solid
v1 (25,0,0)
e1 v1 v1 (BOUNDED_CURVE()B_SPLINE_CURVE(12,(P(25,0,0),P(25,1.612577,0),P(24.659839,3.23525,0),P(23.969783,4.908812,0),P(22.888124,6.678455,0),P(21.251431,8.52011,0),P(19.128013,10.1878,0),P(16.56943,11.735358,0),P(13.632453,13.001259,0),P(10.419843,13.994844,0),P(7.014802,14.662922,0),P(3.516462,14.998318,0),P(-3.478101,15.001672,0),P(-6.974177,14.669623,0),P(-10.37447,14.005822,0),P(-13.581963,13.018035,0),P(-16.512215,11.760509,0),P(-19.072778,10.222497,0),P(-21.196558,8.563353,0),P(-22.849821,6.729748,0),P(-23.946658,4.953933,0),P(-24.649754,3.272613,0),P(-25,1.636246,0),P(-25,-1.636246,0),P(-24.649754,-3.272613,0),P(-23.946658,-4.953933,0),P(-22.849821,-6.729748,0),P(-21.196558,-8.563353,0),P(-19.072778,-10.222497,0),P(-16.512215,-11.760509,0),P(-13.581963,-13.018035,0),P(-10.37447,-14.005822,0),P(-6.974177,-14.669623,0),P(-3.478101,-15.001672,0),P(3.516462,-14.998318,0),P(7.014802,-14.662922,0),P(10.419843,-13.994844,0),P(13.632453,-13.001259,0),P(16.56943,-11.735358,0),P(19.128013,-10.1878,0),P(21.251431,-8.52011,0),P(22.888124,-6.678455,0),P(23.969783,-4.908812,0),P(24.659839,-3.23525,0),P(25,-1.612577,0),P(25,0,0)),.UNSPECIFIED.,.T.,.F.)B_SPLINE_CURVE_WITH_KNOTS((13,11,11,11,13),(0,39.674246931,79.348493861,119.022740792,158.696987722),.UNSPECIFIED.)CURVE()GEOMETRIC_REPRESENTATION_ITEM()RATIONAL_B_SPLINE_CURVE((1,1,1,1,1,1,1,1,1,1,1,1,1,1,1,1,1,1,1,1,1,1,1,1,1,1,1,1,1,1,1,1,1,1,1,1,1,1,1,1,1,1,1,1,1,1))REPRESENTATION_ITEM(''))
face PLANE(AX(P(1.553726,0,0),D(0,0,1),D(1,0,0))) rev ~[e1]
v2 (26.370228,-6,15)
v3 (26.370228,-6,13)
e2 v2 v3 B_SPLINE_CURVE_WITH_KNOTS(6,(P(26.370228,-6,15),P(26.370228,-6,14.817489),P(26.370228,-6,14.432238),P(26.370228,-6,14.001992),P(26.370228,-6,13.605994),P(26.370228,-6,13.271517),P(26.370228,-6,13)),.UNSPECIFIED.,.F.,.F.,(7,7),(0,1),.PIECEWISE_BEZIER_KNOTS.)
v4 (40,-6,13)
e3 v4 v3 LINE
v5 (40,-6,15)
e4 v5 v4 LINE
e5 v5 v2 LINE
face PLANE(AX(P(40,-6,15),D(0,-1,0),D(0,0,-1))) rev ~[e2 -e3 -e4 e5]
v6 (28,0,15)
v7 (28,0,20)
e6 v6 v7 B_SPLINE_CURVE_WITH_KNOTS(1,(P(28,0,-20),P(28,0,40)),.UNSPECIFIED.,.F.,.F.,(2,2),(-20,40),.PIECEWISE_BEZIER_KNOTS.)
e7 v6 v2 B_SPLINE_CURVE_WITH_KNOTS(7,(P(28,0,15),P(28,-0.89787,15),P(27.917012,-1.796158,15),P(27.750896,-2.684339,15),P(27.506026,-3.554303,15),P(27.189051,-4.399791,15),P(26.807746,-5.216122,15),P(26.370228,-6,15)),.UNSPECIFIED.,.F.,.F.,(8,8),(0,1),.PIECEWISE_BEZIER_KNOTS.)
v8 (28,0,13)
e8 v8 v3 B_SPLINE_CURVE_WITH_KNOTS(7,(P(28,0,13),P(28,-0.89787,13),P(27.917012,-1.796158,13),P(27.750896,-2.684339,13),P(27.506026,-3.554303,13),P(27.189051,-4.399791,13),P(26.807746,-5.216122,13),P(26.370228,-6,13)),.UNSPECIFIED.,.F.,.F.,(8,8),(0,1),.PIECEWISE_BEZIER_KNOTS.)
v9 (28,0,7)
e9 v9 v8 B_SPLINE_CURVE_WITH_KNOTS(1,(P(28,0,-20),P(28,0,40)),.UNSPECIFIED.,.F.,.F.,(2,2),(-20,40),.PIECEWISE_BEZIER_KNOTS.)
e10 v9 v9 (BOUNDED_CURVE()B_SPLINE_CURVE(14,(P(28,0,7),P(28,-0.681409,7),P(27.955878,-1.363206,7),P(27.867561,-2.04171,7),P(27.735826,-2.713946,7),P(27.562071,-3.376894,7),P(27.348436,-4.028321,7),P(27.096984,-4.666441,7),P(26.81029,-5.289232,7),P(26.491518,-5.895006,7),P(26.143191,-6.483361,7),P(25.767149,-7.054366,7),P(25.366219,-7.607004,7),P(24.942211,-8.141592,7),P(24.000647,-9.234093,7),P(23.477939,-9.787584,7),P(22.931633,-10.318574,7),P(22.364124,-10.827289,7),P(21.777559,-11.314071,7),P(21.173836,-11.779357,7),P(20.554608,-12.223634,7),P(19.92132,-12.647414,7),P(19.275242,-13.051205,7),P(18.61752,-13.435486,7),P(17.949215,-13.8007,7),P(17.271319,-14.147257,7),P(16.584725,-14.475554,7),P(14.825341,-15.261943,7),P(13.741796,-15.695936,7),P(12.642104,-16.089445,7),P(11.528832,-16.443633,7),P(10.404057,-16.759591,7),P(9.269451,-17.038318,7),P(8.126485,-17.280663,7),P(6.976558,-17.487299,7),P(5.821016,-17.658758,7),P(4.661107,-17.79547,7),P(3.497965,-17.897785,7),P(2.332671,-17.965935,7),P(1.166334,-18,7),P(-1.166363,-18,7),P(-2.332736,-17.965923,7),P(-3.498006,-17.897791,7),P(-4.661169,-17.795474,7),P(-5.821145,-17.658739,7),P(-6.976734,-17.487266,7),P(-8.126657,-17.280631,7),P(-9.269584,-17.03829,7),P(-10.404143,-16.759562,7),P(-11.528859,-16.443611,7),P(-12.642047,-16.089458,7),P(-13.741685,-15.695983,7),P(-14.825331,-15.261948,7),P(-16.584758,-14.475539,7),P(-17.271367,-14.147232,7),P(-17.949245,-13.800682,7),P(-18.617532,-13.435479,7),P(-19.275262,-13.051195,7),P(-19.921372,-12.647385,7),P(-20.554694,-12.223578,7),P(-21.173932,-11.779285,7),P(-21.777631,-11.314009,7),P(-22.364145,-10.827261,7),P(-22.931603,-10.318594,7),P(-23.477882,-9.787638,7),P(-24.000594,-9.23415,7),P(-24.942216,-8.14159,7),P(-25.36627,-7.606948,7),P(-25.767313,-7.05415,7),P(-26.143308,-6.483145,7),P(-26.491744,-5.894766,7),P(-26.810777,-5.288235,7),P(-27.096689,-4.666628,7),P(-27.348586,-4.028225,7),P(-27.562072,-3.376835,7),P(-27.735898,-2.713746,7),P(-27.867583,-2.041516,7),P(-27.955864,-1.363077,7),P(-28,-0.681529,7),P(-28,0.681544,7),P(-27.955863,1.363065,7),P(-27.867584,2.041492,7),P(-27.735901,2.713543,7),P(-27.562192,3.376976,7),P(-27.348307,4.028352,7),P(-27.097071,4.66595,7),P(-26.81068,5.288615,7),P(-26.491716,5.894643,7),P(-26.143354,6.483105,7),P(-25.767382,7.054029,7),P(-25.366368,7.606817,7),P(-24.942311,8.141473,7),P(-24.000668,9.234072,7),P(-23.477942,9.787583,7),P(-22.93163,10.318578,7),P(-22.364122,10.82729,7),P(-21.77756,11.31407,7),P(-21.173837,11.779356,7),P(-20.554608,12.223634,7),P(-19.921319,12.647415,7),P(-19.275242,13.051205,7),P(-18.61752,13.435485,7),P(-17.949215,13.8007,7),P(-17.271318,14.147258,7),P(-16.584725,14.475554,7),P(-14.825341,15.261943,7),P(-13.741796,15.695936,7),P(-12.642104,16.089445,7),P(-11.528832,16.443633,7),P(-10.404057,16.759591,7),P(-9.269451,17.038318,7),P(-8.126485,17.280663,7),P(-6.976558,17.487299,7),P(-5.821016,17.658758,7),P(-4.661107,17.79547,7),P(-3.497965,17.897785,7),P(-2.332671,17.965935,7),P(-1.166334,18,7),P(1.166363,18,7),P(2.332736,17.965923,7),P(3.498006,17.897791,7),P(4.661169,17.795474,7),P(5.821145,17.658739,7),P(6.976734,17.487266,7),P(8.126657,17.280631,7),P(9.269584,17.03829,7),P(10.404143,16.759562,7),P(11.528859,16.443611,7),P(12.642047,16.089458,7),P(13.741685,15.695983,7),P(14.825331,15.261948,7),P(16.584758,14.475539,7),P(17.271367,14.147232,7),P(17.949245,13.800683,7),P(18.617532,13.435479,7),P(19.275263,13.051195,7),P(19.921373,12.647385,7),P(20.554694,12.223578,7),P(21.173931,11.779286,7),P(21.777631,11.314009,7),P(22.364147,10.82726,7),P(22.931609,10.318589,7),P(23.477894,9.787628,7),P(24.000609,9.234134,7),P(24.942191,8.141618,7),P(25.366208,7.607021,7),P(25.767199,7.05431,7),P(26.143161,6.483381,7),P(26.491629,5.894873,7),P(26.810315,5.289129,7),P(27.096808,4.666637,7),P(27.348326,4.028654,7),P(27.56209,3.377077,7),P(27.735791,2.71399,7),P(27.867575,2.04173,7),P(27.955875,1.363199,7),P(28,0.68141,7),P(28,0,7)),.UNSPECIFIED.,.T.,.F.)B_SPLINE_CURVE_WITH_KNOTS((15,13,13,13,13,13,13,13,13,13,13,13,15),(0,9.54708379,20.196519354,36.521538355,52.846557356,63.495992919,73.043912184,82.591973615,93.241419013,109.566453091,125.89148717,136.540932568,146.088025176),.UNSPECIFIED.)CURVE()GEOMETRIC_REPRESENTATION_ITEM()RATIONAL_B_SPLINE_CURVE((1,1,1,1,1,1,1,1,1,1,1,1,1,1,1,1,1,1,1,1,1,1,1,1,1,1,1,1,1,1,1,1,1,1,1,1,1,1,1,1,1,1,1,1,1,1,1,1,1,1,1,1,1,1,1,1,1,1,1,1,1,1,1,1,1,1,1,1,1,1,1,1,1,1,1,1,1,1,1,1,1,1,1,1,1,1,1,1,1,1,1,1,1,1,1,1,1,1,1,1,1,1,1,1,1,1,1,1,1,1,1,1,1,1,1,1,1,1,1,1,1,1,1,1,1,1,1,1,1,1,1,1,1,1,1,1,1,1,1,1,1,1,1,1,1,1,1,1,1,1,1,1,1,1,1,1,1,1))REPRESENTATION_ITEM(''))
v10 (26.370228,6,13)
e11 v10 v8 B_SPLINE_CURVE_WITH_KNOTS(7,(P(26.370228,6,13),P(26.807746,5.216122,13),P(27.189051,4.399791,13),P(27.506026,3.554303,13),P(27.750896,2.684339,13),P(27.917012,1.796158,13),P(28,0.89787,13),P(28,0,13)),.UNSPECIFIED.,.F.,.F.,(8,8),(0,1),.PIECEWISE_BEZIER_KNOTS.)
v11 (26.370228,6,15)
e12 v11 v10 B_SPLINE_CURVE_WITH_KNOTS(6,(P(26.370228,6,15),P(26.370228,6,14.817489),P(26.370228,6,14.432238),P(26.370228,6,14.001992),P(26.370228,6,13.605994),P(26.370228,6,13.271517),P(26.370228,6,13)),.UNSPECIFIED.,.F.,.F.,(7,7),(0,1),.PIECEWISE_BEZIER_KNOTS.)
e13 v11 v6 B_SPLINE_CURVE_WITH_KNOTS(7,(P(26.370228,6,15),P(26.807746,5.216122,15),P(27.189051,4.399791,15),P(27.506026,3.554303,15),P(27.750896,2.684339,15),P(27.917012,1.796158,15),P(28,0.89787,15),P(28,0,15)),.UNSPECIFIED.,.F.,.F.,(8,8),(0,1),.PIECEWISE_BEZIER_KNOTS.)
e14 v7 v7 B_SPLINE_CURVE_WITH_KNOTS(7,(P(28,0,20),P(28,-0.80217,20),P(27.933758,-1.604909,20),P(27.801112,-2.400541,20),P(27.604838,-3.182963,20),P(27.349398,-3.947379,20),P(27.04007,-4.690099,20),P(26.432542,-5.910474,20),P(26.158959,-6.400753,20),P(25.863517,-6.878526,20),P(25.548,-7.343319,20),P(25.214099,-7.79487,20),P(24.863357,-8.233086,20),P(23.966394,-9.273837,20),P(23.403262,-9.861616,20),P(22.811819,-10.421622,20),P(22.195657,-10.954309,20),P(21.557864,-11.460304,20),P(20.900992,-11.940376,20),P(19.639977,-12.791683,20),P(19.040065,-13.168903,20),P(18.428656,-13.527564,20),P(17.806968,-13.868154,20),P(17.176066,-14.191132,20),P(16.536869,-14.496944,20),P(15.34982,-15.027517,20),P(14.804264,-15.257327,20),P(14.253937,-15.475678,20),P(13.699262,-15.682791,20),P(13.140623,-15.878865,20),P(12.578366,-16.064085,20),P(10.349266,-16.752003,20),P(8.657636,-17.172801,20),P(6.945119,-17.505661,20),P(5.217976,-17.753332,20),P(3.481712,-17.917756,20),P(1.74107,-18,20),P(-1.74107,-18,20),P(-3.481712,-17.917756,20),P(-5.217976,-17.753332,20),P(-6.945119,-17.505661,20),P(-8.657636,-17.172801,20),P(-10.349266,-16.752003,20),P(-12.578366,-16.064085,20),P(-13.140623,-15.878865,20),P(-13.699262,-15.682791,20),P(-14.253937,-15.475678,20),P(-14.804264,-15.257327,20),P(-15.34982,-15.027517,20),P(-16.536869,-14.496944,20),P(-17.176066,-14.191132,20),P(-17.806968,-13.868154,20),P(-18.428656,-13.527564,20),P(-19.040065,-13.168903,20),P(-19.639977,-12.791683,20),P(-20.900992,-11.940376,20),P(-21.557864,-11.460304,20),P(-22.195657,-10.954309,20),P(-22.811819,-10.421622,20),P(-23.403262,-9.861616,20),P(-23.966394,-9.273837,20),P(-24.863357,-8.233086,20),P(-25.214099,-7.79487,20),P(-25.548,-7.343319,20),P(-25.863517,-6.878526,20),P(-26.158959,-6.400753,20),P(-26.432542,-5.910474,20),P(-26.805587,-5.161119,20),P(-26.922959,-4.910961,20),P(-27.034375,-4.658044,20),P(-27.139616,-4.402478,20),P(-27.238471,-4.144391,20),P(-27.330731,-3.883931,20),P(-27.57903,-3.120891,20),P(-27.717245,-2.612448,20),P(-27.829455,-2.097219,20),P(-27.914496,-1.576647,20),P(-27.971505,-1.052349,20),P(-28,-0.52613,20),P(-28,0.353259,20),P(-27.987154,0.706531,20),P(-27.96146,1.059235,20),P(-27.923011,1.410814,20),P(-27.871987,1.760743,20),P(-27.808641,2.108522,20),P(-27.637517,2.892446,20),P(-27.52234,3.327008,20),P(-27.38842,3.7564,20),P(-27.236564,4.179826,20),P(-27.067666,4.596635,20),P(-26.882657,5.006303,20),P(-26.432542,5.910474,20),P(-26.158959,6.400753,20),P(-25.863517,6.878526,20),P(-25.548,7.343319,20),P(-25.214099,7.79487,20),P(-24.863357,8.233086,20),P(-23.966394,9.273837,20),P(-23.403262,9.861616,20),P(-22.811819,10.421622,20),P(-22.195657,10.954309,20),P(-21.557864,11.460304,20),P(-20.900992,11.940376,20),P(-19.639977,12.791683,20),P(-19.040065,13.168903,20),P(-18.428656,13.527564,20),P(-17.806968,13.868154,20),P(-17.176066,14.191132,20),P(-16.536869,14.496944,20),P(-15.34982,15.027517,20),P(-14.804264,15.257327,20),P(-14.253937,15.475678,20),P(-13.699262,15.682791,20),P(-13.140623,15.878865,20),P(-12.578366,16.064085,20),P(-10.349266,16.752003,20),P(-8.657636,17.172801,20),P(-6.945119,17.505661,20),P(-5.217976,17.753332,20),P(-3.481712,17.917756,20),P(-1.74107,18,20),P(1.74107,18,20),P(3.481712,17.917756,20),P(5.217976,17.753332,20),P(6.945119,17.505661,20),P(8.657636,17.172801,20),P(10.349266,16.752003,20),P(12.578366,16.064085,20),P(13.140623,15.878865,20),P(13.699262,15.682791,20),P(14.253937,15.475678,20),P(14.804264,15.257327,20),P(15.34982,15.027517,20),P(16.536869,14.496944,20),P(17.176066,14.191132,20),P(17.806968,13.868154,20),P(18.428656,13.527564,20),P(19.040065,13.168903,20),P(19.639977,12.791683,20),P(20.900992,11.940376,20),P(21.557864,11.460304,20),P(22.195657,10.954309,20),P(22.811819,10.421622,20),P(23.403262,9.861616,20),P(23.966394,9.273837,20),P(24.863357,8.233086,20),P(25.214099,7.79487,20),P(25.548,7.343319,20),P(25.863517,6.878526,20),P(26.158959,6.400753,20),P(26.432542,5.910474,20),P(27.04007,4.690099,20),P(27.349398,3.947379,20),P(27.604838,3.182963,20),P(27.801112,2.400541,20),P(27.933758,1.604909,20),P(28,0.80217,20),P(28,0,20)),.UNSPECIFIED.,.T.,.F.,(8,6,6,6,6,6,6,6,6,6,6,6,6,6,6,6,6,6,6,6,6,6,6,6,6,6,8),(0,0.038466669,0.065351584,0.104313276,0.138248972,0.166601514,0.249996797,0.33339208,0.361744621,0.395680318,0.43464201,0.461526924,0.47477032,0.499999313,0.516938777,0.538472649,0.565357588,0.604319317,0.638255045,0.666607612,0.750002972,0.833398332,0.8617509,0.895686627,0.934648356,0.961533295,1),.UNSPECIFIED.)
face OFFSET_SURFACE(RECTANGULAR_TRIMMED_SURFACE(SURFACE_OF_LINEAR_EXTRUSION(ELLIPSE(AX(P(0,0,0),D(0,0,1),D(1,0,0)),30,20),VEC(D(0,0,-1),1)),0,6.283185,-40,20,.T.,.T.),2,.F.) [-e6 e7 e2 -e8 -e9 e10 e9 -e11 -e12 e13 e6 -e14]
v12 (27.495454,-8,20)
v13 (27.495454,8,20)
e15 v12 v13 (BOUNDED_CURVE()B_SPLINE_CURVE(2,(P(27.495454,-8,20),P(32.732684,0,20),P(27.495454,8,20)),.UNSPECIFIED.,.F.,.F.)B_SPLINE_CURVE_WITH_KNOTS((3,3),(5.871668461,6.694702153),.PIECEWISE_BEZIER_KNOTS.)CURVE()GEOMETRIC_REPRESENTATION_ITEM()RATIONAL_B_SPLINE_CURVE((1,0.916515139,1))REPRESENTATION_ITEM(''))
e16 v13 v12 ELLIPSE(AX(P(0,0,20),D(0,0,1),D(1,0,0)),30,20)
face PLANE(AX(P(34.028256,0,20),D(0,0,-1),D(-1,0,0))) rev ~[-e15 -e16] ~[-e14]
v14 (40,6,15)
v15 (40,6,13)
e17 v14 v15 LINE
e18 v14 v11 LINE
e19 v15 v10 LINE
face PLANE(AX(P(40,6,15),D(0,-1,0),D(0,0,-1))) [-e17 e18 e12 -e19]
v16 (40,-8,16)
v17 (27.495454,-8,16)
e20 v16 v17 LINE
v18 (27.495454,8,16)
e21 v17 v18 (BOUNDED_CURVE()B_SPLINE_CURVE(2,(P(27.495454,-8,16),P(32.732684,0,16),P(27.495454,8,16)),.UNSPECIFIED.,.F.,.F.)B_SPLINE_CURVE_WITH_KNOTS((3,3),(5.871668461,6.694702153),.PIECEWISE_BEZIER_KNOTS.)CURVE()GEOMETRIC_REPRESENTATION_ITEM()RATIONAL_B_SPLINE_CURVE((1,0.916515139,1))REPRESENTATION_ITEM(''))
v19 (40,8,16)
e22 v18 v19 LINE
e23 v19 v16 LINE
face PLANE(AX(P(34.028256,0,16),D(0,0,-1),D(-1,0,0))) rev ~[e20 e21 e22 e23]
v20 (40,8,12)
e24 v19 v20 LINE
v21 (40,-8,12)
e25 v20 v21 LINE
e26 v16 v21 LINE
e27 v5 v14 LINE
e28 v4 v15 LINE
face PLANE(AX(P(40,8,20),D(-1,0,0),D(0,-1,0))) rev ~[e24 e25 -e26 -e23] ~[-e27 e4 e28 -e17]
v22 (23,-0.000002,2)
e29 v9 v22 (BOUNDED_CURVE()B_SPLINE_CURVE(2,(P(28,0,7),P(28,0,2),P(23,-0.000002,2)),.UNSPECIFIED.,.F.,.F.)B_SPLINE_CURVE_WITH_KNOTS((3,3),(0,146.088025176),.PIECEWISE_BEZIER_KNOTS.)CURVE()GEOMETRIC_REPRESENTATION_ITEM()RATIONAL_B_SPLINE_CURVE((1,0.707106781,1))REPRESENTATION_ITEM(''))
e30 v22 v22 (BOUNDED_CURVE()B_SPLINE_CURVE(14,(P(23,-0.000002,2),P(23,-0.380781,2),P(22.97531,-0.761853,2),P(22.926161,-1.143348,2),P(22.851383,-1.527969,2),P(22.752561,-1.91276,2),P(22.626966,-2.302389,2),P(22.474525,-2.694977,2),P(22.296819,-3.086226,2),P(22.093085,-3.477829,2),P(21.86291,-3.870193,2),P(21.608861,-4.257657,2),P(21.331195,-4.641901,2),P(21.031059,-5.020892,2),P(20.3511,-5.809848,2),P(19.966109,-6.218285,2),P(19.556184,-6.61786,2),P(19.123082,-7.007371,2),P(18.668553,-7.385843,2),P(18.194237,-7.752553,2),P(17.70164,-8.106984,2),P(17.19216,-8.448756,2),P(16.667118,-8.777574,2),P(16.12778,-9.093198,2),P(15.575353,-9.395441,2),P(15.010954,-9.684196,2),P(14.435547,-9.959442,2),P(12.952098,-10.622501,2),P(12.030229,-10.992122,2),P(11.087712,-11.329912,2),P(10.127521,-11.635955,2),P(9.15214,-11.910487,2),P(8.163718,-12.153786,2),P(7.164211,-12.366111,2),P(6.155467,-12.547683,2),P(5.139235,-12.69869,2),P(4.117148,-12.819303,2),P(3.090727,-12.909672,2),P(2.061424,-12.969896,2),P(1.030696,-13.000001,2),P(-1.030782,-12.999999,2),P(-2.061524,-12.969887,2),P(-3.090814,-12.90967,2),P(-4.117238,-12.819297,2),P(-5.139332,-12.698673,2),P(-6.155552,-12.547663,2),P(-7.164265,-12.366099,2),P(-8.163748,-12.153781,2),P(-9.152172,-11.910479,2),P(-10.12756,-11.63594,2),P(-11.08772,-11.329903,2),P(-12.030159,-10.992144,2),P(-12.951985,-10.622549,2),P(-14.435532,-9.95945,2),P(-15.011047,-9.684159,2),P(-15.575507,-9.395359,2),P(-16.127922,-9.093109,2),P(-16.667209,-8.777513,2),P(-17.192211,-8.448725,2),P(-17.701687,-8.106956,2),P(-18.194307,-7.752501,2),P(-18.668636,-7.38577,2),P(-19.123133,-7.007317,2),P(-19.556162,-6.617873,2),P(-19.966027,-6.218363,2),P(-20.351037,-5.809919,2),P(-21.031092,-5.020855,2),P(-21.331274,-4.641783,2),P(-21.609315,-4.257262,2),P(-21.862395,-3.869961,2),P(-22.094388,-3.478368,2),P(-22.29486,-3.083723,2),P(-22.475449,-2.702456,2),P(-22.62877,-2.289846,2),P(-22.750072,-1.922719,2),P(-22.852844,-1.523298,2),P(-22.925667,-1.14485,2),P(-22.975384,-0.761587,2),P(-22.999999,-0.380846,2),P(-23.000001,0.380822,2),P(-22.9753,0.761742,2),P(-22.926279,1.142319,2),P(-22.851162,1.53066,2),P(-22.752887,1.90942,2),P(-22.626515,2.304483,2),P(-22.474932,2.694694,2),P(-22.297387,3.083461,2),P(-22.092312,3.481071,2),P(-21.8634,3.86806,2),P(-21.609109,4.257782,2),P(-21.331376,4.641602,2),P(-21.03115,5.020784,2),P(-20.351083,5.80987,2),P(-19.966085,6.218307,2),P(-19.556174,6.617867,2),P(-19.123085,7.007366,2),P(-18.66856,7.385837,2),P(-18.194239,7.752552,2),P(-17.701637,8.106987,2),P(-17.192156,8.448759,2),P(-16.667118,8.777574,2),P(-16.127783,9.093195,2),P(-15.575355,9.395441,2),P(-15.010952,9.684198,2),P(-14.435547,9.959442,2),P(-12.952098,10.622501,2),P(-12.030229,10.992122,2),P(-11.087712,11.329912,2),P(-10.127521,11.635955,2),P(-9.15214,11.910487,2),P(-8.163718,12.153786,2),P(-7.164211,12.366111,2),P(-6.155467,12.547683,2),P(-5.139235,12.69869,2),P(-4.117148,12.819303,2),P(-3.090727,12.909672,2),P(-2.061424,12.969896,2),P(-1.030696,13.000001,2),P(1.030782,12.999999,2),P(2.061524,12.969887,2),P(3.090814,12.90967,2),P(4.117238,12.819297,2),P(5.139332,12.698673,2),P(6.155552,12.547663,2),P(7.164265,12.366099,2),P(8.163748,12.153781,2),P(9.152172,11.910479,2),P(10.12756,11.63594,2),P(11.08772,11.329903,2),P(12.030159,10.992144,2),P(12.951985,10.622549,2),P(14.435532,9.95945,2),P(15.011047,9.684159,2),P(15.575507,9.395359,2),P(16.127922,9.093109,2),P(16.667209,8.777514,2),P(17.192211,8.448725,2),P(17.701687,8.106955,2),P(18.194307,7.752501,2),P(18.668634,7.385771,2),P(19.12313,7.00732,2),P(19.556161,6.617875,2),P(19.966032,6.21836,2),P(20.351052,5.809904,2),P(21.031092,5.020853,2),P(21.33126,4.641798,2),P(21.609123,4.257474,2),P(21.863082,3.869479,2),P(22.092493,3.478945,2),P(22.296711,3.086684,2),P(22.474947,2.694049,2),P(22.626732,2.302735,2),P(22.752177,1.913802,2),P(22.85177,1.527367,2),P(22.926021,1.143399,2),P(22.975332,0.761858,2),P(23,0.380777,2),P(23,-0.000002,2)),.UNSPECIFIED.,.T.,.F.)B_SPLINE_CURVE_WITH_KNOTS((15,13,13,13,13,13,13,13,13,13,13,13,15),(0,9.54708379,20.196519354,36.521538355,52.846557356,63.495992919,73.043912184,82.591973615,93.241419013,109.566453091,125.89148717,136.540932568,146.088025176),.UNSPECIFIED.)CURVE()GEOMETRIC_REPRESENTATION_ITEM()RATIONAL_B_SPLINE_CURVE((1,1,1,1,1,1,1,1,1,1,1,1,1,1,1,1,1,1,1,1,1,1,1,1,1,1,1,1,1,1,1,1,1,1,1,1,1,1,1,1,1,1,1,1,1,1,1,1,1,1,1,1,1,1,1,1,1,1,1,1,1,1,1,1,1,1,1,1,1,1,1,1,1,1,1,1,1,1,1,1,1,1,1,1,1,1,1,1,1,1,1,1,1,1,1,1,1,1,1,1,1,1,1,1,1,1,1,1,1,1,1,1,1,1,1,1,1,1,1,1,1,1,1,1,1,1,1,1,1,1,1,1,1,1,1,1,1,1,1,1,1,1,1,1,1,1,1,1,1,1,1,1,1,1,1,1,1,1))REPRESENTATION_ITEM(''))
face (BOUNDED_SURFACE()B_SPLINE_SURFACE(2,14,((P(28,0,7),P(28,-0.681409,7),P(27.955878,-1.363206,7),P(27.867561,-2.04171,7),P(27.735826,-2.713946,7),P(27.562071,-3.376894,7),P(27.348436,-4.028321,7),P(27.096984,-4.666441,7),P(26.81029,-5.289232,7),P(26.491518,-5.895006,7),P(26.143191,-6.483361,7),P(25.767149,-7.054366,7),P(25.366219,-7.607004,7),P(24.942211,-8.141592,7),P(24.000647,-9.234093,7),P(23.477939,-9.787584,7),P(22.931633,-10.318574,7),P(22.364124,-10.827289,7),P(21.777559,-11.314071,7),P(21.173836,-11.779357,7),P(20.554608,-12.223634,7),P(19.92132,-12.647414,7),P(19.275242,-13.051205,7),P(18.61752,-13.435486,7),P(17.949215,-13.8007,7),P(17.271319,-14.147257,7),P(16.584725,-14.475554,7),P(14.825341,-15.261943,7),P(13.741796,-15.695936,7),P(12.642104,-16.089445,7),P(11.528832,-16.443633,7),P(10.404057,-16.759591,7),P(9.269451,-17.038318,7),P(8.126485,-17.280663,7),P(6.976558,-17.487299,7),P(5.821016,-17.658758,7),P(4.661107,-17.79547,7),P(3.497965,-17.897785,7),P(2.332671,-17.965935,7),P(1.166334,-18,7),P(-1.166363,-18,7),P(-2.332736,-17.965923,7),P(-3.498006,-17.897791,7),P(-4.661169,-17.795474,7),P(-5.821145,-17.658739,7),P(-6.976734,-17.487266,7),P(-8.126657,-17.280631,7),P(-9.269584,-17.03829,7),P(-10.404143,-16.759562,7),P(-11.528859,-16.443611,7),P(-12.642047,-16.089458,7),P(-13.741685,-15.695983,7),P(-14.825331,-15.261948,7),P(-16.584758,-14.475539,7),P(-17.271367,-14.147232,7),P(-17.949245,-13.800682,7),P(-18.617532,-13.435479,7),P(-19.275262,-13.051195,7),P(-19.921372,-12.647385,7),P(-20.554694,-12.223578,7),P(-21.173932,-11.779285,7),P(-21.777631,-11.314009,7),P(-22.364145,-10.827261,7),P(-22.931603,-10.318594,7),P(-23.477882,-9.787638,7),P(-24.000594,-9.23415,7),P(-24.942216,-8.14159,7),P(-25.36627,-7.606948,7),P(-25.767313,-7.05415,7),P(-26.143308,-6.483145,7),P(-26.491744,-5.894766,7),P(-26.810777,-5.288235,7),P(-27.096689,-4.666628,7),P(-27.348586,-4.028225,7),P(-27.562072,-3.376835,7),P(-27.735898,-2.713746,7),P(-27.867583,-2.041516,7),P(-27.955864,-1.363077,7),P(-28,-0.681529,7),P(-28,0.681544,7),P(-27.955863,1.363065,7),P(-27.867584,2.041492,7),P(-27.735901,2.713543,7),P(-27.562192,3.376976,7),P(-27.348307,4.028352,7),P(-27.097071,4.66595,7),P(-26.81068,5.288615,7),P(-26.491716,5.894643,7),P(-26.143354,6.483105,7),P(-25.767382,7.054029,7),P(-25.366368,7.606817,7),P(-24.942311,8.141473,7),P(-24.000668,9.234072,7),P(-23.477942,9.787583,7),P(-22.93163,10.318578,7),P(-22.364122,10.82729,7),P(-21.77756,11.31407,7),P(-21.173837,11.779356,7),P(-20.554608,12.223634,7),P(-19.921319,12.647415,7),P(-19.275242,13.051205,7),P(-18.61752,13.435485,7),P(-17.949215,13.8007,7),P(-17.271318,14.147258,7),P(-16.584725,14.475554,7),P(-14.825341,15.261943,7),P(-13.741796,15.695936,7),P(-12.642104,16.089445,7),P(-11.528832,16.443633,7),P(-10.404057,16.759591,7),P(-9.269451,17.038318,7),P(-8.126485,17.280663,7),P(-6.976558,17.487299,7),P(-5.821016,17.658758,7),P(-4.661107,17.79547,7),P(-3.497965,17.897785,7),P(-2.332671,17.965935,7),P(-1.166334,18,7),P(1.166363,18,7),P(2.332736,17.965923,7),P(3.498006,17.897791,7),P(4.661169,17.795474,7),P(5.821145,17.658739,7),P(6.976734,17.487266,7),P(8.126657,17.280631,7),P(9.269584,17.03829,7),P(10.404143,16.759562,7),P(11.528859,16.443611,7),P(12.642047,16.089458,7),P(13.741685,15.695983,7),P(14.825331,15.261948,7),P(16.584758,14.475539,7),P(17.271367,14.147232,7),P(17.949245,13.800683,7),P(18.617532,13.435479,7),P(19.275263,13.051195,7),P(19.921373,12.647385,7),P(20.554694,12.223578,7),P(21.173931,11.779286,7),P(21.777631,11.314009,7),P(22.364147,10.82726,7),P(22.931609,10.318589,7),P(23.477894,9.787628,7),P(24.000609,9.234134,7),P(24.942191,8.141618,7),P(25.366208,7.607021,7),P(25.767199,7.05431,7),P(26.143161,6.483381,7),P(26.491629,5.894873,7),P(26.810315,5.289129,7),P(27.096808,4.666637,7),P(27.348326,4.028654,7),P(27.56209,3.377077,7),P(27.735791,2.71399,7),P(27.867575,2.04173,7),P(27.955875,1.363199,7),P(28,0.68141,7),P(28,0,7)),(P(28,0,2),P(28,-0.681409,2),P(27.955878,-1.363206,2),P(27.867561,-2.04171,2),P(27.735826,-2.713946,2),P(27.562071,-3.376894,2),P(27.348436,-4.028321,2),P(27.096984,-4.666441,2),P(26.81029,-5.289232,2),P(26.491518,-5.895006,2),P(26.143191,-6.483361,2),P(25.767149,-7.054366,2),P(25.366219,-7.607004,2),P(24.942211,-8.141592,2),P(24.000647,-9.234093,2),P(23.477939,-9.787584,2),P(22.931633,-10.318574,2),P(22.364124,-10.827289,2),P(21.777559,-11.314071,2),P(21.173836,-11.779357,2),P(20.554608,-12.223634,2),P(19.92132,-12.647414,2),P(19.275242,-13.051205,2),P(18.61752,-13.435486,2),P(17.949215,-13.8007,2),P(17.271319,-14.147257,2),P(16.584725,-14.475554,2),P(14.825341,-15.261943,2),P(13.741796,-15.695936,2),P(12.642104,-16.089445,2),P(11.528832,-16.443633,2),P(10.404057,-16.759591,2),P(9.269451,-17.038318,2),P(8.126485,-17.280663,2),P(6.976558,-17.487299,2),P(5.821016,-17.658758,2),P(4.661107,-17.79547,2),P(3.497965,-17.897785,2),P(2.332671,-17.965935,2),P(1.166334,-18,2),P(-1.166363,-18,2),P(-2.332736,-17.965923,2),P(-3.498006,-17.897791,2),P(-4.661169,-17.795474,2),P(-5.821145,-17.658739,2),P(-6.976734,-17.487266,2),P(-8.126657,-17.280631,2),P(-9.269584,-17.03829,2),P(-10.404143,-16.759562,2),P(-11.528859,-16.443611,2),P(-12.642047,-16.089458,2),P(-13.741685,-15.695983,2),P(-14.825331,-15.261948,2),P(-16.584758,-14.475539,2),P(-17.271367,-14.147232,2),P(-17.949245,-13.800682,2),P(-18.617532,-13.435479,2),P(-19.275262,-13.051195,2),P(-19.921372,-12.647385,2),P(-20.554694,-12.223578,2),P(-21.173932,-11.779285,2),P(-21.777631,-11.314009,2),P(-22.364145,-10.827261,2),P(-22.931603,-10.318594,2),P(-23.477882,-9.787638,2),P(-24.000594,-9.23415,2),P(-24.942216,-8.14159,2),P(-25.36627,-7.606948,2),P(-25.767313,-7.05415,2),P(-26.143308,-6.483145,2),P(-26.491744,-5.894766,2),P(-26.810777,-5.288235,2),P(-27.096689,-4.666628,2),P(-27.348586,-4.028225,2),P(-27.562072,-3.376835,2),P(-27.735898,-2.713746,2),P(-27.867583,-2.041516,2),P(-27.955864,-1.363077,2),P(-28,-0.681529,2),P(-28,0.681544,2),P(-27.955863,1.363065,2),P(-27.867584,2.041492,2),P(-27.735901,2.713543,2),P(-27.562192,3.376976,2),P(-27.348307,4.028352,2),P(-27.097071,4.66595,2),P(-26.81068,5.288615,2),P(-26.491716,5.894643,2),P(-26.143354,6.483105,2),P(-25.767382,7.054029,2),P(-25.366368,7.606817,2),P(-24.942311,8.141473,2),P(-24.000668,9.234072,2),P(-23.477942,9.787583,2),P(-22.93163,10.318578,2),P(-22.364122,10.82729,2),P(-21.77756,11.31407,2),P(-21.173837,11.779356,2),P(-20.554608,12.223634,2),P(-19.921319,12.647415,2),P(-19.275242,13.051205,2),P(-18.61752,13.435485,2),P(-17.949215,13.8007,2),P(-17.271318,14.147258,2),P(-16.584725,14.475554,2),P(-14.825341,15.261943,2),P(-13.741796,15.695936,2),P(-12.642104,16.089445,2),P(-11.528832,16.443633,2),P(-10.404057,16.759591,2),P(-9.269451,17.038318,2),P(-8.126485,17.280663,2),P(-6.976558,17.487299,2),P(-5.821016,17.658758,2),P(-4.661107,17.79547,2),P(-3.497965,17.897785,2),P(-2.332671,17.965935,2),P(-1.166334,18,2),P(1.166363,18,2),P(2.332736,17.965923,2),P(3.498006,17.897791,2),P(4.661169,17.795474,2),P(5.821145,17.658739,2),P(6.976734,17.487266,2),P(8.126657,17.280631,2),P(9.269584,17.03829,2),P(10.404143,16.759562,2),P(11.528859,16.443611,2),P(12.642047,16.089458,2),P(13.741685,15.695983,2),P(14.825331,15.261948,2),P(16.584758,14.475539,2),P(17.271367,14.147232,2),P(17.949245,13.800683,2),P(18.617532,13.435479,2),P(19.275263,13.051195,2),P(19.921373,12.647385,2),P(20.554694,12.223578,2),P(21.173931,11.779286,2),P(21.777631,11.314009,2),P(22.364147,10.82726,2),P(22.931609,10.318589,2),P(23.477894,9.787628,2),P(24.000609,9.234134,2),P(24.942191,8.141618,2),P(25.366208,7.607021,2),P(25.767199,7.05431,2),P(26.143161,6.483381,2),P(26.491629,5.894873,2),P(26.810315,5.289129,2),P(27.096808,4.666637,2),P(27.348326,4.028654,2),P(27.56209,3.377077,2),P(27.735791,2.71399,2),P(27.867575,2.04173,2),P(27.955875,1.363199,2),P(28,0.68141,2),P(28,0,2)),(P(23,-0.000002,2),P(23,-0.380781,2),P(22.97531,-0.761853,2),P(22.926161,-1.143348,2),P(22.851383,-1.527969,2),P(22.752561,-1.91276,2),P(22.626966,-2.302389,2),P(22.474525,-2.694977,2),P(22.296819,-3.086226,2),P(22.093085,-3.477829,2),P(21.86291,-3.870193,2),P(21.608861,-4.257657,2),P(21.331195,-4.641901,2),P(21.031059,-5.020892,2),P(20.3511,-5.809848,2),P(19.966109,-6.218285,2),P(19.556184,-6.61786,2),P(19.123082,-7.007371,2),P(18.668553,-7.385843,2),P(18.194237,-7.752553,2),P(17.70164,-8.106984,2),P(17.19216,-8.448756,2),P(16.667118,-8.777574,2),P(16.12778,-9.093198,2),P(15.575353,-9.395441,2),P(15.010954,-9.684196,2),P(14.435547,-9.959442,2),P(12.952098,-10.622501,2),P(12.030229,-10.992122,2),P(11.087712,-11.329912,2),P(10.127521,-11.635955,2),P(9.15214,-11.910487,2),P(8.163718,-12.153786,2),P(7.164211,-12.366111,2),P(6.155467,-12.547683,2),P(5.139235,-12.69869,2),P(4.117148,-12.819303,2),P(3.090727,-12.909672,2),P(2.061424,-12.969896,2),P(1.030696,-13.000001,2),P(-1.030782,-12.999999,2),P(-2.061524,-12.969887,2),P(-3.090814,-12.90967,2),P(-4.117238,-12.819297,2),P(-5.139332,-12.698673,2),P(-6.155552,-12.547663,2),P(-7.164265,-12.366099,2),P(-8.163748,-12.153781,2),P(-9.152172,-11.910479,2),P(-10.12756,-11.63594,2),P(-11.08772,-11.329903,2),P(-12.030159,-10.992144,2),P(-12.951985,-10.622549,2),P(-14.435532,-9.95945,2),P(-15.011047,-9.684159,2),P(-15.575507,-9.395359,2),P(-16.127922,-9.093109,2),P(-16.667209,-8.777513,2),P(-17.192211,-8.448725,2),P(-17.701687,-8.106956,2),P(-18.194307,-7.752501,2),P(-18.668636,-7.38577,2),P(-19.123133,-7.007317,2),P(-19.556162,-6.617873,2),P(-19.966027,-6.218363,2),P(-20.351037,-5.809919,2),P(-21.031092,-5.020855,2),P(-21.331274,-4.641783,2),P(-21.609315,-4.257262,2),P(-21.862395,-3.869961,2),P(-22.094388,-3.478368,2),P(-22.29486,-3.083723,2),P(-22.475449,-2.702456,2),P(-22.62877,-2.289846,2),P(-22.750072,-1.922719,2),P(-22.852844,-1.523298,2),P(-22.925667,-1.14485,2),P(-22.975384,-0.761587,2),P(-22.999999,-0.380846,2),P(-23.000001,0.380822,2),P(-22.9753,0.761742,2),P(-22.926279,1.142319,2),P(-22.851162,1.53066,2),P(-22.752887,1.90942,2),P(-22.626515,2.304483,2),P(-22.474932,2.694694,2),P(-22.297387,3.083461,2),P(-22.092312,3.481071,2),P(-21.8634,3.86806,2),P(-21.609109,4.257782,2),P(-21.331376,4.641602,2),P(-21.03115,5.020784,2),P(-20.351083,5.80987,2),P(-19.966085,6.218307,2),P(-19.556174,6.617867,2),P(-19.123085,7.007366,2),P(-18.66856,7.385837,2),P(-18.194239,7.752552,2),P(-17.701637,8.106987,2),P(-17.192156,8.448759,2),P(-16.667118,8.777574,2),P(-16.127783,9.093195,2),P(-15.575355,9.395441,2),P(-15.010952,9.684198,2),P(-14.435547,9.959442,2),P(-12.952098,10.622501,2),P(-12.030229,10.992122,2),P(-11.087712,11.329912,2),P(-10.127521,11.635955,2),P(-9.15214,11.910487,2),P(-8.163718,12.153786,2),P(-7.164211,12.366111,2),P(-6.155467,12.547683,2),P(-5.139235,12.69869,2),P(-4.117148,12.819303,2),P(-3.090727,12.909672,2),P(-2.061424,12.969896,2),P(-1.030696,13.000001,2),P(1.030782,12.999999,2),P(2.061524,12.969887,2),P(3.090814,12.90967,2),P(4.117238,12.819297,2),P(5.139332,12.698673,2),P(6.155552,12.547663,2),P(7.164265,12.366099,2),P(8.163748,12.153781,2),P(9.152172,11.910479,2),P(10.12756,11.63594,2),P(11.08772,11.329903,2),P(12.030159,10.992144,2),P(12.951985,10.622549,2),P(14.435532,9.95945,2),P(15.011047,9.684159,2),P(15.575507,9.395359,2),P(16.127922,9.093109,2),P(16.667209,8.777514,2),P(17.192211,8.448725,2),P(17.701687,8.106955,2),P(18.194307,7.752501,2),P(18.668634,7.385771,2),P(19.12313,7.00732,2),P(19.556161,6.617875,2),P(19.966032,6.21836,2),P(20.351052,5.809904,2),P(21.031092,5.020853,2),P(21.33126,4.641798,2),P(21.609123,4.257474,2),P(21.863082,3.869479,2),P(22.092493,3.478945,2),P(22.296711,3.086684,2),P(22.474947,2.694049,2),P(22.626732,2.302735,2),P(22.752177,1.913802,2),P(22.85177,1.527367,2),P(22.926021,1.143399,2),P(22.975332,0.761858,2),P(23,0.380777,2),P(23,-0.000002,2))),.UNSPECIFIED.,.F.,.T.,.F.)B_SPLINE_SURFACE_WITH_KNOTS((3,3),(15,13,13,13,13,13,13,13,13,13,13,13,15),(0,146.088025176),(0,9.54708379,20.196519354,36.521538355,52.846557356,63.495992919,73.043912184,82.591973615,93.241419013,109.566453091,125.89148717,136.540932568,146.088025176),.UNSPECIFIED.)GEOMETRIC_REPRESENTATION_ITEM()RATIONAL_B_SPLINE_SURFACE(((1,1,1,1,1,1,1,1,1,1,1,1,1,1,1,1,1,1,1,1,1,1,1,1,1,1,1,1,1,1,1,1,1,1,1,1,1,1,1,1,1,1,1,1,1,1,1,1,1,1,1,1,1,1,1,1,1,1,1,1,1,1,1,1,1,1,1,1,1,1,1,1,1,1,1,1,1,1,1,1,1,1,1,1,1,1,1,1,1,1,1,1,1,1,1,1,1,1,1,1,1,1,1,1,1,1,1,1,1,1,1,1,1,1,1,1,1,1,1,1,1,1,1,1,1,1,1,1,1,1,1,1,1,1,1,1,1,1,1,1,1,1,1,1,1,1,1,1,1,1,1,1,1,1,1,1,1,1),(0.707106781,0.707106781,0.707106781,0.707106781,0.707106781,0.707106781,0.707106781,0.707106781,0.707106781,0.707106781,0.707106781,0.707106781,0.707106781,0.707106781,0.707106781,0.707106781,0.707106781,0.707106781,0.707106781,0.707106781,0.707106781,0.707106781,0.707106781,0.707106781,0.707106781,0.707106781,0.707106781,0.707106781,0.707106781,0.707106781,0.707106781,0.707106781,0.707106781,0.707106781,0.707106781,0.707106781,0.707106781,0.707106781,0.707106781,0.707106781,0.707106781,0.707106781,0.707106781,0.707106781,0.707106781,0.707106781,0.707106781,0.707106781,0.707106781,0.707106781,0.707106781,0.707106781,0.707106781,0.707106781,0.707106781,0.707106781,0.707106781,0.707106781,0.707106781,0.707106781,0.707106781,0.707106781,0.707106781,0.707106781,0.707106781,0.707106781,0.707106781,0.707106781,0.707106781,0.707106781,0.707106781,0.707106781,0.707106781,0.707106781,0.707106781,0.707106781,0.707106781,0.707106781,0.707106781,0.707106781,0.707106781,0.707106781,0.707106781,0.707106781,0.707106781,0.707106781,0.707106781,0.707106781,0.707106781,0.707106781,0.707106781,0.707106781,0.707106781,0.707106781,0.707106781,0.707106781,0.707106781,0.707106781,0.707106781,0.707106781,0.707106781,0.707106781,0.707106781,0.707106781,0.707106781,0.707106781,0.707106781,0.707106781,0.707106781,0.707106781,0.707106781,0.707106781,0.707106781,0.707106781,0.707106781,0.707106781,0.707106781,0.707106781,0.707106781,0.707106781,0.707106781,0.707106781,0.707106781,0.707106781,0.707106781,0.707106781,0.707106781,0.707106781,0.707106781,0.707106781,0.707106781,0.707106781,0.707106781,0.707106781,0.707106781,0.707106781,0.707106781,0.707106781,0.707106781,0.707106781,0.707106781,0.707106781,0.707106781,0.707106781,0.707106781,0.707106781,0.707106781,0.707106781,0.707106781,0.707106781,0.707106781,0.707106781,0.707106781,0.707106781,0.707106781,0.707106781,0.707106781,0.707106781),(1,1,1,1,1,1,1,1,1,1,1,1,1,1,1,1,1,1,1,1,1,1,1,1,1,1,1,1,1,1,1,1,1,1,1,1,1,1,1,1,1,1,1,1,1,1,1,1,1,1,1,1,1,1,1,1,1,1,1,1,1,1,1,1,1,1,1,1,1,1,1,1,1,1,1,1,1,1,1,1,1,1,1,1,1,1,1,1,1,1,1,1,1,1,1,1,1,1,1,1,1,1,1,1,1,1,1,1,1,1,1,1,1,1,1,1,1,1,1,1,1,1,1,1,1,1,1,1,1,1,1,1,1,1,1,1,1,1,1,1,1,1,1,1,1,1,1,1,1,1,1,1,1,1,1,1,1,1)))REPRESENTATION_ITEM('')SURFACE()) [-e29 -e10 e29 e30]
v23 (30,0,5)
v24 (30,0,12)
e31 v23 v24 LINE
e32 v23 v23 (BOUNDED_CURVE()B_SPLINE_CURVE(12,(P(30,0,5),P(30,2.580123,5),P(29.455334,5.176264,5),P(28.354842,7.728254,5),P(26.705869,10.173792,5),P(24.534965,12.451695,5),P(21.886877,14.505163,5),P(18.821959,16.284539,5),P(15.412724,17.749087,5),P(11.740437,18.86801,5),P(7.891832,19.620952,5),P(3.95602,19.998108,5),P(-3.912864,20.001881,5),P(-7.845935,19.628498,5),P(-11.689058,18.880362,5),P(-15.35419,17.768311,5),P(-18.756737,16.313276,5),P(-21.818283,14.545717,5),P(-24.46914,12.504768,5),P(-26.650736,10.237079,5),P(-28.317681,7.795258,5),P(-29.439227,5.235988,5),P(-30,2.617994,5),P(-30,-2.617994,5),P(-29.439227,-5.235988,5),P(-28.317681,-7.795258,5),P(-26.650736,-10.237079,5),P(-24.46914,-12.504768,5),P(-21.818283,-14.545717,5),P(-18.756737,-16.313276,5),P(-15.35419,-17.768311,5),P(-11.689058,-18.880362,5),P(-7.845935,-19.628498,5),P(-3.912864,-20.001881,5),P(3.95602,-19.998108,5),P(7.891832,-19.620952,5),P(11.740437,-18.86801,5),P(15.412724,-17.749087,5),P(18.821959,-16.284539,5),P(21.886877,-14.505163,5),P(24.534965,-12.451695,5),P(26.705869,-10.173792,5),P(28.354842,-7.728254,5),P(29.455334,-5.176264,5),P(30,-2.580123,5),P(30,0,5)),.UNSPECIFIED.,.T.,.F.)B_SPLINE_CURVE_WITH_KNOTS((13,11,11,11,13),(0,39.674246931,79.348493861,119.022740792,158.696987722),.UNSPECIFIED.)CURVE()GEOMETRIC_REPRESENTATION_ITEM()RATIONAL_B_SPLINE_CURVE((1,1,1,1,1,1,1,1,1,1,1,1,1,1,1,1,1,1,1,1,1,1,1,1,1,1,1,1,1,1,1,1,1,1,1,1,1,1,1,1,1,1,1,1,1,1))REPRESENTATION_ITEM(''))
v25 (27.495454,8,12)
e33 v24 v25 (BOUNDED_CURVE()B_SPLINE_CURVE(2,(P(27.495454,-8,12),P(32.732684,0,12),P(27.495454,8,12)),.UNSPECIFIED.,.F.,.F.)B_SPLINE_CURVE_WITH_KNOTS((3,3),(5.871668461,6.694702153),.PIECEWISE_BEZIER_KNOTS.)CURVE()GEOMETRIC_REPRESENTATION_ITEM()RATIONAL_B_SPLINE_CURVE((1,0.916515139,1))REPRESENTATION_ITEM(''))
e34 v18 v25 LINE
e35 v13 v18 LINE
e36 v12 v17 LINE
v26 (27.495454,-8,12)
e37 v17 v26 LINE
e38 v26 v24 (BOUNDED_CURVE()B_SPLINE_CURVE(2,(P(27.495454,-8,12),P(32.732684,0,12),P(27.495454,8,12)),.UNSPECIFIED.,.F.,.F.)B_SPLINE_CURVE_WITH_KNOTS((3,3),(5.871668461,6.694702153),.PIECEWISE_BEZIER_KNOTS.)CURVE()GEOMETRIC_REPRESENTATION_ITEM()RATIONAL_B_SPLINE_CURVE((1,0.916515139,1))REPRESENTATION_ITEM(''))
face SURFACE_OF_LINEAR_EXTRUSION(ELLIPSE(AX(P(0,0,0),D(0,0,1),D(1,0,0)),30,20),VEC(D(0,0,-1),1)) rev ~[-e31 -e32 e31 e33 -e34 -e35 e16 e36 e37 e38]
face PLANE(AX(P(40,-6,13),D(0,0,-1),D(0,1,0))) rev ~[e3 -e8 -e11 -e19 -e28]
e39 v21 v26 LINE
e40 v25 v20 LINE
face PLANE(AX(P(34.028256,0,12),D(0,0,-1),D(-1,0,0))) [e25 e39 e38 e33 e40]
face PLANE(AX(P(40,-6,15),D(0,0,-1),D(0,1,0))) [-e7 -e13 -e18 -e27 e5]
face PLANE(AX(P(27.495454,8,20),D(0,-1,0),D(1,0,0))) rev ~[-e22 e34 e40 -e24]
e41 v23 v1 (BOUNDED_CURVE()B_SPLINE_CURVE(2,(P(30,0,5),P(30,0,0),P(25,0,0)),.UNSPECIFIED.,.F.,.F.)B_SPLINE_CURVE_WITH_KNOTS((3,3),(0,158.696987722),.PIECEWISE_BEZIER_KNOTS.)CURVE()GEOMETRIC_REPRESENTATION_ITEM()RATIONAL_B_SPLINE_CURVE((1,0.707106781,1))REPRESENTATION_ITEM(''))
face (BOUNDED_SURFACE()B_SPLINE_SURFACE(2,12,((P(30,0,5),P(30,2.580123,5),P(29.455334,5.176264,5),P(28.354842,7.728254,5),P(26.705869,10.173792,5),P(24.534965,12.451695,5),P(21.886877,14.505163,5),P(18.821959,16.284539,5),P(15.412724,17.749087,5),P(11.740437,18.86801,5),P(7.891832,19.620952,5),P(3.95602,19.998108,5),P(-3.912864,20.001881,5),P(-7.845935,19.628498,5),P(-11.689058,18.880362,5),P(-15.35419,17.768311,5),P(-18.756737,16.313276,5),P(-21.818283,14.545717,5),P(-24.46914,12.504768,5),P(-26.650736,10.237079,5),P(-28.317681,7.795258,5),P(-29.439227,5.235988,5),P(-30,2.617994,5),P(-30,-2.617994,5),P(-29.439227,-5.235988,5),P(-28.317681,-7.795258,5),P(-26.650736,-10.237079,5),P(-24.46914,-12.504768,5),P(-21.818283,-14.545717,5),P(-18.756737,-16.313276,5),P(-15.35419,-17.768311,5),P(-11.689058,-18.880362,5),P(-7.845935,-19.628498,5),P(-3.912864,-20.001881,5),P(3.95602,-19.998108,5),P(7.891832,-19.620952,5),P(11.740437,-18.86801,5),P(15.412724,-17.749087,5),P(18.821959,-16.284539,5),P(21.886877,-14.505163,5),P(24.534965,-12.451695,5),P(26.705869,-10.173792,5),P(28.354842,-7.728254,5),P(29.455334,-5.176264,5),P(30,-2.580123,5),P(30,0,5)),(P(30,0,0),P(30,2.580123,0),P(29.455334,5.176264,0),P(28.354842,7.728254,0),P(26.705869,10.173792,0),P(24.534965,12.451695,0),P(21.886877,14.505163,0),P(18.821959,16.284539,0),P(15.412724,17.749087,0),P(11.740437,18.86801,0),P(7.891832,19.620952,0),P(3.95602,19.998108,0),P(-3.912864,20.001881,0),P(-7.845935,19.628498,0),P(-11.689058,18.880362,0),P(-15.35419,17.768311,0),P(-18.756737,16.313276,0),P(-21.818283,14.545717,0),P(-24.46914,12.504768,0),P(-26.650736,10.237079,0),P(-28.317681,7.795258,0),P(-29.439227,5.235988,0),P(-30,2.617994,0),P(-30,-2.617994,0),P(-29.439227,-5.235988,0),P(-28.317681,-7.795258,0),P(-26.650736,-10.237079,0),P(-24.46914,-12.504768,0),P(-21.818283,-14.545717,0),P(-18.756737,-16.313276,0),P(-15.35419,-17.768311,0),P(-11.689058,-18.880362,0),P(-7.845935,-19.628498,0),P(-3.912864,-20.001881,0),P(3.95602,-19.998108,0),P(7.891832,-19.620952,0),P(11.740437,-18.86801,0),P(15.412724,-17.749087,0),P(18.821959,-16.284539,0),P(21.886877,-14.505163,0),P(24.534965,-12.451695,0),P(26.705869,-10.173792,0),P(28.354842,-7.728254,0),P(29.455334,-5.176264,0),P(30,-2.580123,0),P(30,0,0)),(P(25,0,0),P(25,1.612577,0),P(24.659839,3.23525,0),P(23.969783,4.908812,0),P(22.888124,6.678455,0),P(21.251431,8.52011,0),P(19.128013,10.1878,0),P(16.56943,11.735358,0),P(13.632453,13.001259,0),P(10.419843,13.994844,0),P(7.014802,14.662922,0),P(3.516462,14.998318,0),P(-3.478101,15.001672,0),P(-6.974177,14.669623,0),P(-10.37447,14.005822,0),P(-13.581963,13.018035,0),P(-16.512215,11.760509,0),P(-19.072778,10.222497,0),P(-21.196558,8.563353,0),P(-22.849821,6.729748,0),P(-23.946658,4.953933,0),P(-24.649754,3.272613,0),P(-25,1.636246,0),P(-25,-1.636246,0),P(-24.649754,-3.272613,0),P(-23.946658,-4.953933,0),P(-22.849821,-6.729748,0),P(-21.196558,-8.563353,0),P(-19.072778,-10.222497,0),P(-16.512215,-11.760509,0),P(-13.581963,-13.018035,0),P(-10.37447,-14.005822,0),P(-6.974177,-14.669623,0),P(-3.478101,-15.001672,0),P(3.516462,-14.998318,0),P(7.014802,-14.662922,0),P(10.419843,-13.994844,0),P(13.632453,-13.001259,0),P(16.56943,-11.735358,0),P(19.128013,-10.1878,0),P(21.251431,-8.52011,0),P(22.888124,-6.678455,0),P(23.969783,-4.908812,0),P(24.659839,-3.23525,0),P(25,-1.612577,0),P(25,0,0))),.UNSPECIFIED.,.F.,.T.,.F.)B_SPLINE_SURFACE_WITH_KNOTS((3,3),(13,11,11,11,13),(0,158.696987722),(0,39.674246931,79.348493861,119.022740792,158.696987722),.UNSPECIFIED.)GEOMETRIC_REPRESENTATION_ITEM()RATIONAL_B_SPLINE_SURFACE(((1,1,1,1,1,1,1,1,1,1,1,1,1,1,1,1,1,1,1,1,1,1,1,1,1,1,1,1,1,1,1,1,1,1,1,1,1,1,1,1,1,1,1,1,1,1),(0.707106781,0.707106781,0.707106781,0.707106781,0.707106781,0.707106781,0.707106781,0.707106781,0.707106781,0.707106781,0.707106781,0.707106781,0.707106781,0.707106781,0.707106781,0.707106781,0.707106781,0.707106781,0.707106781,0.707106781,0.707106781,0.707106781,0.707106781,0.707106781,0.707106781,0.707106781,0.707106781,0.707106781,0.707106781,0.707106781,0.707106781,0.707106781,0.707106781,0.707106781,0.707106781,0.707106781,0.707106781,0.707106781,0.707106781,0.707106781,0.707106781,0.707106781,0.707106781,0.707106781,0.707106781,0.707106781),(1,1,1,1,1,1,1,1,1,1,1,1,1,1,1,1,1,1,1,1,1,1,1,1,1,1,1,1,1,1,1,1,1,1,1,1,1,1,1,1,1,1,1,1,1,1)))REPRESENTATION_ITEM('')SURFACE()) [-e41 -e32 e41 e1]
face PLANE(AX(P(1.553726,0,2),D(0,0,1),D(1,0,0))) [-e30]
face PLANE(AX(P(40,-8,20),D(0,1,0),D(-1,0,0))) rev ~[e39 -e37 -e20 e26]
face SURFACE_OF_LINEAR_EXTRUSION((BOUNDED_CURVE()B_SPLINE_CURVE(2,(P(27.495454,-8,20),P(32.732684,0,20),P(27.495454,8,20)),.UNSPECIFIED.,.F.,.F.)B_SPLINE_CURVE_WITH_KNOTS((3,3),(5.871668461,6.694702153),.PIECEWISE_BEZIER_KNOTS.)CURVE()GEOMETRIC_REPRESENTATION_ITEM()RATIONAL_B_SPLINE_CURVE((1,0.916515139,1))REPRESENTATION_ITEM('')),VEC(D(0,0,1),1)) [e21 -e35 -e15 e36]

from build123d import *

# Parameters (mm, degrees)
SKETCH1_RX          = 30
SKETCH1_RY          = 20
BOSS_EXTRUDE1_DEPTH = 20
SHELL1_T            = -2
FILLET3_R           = 5
FILLET4_R           = 5
BOSS_EXTRUDE3_DEPTH = 8
CUT_EXTRUDE2_DEPTH  = 4
SKETCH12_W          = 2
SKETCH12_H          = 12
CUT_EXTRUDE3_DEPTH  = 20


with BuildPart() as part:
    # Sketch1 → Boss-Extrude1 (new body)
    with BuildSketch(Plane.XY):
        with Locations((0, 0)):
            Ellipse(SKETCH1_RX, SKETCH1_RY)
    extrude(amount=BOSS_EXTRUDE1_DEPTH)

    # Shell1
    shell1_openings = [part.faces().sort_by_distance(p)[0] for p in [
        (0, 0, 20),
    ]]
    offset(amount=SHELL1_T, openings=shell1_openings, kind=Kind.INTERSECTION)

    # Fillet3
    fillet3_edges = [part.edges().sort_by_distance(p)[0] for p in [
        (-28.000000024, 8.3e-08, 2),
    ]]
    fillet(fillet3_edges, radius=FILLET3_R)

    # Fillet4
    fillet4_edges = [part.edges().sort_by_distance(p)[0] for p in [
        (-29.999982994, -0.0212956, 0),
    ]]
    fillet(fillet4_edges, radius=FILLET4_R)

    # Sketch3 → Boss-Extrude3 (add)
    with BuildSketch(Plane.XY.offset(20)):
        with BuildLine():
            Line((40, 8), (40, -8))
            Line((40, -8), (27.49545417, -8))
            add(Edge.make_bspline(
                [(27.49545417, -8), (32.732683535, 0), (27.49545417, 8)],
                knots=[5.871668461, 5.871668461, 5.871668461, 6.694702153, 6.694702153, 6.694702153], degree=2, weights=[1, 0.916515139, 1]))
            Line((27.49545417, 8), (40, 8))
        make_face()
    extrude(amount=-BOSS_EXTRUDE3_DEPTH)

    # Sketch3<3> → Cut-Extrude2 (cut)
    with BuildSketch(Plane.XY.offset(20)):
        with BuildLine():
            Line((40, 8), (40, -8))
            Line((40, -8), (27.49545417, -8))
            add(Edge.make_bspline(
                [(27.49545417, -8), (32.732683535, 0), (27.49545417, 8)],
                knots=[5.871668461, 5.871668461, 5.871668461, 6.694702153, 6.694702153, 6.694702153], degree=2, weights=[1, 0.916515139, 1]))
            Line((27.49545417, 8), (40, 8))
        make_face()
    extrude(amount=-CUT_EXTRUDE2_DEPTH, mode=Mode.SUBTRACT)

    # Sketch12 → Cut-Extrude3 (cut)
    with BuildSketch(Plane(origin=(40, 0, 0), x_dir=(0, 0, -1), z_dir=(1, 0, 0))):
        with Locations((-14, 0)):
            Rectangle(SKETCH12_W, SKETCH12_H)
    extrude(amount=-CUT_EXTRUDE3_DEPTH, mode=Mode.SUBTRACT)


solid = part.part
